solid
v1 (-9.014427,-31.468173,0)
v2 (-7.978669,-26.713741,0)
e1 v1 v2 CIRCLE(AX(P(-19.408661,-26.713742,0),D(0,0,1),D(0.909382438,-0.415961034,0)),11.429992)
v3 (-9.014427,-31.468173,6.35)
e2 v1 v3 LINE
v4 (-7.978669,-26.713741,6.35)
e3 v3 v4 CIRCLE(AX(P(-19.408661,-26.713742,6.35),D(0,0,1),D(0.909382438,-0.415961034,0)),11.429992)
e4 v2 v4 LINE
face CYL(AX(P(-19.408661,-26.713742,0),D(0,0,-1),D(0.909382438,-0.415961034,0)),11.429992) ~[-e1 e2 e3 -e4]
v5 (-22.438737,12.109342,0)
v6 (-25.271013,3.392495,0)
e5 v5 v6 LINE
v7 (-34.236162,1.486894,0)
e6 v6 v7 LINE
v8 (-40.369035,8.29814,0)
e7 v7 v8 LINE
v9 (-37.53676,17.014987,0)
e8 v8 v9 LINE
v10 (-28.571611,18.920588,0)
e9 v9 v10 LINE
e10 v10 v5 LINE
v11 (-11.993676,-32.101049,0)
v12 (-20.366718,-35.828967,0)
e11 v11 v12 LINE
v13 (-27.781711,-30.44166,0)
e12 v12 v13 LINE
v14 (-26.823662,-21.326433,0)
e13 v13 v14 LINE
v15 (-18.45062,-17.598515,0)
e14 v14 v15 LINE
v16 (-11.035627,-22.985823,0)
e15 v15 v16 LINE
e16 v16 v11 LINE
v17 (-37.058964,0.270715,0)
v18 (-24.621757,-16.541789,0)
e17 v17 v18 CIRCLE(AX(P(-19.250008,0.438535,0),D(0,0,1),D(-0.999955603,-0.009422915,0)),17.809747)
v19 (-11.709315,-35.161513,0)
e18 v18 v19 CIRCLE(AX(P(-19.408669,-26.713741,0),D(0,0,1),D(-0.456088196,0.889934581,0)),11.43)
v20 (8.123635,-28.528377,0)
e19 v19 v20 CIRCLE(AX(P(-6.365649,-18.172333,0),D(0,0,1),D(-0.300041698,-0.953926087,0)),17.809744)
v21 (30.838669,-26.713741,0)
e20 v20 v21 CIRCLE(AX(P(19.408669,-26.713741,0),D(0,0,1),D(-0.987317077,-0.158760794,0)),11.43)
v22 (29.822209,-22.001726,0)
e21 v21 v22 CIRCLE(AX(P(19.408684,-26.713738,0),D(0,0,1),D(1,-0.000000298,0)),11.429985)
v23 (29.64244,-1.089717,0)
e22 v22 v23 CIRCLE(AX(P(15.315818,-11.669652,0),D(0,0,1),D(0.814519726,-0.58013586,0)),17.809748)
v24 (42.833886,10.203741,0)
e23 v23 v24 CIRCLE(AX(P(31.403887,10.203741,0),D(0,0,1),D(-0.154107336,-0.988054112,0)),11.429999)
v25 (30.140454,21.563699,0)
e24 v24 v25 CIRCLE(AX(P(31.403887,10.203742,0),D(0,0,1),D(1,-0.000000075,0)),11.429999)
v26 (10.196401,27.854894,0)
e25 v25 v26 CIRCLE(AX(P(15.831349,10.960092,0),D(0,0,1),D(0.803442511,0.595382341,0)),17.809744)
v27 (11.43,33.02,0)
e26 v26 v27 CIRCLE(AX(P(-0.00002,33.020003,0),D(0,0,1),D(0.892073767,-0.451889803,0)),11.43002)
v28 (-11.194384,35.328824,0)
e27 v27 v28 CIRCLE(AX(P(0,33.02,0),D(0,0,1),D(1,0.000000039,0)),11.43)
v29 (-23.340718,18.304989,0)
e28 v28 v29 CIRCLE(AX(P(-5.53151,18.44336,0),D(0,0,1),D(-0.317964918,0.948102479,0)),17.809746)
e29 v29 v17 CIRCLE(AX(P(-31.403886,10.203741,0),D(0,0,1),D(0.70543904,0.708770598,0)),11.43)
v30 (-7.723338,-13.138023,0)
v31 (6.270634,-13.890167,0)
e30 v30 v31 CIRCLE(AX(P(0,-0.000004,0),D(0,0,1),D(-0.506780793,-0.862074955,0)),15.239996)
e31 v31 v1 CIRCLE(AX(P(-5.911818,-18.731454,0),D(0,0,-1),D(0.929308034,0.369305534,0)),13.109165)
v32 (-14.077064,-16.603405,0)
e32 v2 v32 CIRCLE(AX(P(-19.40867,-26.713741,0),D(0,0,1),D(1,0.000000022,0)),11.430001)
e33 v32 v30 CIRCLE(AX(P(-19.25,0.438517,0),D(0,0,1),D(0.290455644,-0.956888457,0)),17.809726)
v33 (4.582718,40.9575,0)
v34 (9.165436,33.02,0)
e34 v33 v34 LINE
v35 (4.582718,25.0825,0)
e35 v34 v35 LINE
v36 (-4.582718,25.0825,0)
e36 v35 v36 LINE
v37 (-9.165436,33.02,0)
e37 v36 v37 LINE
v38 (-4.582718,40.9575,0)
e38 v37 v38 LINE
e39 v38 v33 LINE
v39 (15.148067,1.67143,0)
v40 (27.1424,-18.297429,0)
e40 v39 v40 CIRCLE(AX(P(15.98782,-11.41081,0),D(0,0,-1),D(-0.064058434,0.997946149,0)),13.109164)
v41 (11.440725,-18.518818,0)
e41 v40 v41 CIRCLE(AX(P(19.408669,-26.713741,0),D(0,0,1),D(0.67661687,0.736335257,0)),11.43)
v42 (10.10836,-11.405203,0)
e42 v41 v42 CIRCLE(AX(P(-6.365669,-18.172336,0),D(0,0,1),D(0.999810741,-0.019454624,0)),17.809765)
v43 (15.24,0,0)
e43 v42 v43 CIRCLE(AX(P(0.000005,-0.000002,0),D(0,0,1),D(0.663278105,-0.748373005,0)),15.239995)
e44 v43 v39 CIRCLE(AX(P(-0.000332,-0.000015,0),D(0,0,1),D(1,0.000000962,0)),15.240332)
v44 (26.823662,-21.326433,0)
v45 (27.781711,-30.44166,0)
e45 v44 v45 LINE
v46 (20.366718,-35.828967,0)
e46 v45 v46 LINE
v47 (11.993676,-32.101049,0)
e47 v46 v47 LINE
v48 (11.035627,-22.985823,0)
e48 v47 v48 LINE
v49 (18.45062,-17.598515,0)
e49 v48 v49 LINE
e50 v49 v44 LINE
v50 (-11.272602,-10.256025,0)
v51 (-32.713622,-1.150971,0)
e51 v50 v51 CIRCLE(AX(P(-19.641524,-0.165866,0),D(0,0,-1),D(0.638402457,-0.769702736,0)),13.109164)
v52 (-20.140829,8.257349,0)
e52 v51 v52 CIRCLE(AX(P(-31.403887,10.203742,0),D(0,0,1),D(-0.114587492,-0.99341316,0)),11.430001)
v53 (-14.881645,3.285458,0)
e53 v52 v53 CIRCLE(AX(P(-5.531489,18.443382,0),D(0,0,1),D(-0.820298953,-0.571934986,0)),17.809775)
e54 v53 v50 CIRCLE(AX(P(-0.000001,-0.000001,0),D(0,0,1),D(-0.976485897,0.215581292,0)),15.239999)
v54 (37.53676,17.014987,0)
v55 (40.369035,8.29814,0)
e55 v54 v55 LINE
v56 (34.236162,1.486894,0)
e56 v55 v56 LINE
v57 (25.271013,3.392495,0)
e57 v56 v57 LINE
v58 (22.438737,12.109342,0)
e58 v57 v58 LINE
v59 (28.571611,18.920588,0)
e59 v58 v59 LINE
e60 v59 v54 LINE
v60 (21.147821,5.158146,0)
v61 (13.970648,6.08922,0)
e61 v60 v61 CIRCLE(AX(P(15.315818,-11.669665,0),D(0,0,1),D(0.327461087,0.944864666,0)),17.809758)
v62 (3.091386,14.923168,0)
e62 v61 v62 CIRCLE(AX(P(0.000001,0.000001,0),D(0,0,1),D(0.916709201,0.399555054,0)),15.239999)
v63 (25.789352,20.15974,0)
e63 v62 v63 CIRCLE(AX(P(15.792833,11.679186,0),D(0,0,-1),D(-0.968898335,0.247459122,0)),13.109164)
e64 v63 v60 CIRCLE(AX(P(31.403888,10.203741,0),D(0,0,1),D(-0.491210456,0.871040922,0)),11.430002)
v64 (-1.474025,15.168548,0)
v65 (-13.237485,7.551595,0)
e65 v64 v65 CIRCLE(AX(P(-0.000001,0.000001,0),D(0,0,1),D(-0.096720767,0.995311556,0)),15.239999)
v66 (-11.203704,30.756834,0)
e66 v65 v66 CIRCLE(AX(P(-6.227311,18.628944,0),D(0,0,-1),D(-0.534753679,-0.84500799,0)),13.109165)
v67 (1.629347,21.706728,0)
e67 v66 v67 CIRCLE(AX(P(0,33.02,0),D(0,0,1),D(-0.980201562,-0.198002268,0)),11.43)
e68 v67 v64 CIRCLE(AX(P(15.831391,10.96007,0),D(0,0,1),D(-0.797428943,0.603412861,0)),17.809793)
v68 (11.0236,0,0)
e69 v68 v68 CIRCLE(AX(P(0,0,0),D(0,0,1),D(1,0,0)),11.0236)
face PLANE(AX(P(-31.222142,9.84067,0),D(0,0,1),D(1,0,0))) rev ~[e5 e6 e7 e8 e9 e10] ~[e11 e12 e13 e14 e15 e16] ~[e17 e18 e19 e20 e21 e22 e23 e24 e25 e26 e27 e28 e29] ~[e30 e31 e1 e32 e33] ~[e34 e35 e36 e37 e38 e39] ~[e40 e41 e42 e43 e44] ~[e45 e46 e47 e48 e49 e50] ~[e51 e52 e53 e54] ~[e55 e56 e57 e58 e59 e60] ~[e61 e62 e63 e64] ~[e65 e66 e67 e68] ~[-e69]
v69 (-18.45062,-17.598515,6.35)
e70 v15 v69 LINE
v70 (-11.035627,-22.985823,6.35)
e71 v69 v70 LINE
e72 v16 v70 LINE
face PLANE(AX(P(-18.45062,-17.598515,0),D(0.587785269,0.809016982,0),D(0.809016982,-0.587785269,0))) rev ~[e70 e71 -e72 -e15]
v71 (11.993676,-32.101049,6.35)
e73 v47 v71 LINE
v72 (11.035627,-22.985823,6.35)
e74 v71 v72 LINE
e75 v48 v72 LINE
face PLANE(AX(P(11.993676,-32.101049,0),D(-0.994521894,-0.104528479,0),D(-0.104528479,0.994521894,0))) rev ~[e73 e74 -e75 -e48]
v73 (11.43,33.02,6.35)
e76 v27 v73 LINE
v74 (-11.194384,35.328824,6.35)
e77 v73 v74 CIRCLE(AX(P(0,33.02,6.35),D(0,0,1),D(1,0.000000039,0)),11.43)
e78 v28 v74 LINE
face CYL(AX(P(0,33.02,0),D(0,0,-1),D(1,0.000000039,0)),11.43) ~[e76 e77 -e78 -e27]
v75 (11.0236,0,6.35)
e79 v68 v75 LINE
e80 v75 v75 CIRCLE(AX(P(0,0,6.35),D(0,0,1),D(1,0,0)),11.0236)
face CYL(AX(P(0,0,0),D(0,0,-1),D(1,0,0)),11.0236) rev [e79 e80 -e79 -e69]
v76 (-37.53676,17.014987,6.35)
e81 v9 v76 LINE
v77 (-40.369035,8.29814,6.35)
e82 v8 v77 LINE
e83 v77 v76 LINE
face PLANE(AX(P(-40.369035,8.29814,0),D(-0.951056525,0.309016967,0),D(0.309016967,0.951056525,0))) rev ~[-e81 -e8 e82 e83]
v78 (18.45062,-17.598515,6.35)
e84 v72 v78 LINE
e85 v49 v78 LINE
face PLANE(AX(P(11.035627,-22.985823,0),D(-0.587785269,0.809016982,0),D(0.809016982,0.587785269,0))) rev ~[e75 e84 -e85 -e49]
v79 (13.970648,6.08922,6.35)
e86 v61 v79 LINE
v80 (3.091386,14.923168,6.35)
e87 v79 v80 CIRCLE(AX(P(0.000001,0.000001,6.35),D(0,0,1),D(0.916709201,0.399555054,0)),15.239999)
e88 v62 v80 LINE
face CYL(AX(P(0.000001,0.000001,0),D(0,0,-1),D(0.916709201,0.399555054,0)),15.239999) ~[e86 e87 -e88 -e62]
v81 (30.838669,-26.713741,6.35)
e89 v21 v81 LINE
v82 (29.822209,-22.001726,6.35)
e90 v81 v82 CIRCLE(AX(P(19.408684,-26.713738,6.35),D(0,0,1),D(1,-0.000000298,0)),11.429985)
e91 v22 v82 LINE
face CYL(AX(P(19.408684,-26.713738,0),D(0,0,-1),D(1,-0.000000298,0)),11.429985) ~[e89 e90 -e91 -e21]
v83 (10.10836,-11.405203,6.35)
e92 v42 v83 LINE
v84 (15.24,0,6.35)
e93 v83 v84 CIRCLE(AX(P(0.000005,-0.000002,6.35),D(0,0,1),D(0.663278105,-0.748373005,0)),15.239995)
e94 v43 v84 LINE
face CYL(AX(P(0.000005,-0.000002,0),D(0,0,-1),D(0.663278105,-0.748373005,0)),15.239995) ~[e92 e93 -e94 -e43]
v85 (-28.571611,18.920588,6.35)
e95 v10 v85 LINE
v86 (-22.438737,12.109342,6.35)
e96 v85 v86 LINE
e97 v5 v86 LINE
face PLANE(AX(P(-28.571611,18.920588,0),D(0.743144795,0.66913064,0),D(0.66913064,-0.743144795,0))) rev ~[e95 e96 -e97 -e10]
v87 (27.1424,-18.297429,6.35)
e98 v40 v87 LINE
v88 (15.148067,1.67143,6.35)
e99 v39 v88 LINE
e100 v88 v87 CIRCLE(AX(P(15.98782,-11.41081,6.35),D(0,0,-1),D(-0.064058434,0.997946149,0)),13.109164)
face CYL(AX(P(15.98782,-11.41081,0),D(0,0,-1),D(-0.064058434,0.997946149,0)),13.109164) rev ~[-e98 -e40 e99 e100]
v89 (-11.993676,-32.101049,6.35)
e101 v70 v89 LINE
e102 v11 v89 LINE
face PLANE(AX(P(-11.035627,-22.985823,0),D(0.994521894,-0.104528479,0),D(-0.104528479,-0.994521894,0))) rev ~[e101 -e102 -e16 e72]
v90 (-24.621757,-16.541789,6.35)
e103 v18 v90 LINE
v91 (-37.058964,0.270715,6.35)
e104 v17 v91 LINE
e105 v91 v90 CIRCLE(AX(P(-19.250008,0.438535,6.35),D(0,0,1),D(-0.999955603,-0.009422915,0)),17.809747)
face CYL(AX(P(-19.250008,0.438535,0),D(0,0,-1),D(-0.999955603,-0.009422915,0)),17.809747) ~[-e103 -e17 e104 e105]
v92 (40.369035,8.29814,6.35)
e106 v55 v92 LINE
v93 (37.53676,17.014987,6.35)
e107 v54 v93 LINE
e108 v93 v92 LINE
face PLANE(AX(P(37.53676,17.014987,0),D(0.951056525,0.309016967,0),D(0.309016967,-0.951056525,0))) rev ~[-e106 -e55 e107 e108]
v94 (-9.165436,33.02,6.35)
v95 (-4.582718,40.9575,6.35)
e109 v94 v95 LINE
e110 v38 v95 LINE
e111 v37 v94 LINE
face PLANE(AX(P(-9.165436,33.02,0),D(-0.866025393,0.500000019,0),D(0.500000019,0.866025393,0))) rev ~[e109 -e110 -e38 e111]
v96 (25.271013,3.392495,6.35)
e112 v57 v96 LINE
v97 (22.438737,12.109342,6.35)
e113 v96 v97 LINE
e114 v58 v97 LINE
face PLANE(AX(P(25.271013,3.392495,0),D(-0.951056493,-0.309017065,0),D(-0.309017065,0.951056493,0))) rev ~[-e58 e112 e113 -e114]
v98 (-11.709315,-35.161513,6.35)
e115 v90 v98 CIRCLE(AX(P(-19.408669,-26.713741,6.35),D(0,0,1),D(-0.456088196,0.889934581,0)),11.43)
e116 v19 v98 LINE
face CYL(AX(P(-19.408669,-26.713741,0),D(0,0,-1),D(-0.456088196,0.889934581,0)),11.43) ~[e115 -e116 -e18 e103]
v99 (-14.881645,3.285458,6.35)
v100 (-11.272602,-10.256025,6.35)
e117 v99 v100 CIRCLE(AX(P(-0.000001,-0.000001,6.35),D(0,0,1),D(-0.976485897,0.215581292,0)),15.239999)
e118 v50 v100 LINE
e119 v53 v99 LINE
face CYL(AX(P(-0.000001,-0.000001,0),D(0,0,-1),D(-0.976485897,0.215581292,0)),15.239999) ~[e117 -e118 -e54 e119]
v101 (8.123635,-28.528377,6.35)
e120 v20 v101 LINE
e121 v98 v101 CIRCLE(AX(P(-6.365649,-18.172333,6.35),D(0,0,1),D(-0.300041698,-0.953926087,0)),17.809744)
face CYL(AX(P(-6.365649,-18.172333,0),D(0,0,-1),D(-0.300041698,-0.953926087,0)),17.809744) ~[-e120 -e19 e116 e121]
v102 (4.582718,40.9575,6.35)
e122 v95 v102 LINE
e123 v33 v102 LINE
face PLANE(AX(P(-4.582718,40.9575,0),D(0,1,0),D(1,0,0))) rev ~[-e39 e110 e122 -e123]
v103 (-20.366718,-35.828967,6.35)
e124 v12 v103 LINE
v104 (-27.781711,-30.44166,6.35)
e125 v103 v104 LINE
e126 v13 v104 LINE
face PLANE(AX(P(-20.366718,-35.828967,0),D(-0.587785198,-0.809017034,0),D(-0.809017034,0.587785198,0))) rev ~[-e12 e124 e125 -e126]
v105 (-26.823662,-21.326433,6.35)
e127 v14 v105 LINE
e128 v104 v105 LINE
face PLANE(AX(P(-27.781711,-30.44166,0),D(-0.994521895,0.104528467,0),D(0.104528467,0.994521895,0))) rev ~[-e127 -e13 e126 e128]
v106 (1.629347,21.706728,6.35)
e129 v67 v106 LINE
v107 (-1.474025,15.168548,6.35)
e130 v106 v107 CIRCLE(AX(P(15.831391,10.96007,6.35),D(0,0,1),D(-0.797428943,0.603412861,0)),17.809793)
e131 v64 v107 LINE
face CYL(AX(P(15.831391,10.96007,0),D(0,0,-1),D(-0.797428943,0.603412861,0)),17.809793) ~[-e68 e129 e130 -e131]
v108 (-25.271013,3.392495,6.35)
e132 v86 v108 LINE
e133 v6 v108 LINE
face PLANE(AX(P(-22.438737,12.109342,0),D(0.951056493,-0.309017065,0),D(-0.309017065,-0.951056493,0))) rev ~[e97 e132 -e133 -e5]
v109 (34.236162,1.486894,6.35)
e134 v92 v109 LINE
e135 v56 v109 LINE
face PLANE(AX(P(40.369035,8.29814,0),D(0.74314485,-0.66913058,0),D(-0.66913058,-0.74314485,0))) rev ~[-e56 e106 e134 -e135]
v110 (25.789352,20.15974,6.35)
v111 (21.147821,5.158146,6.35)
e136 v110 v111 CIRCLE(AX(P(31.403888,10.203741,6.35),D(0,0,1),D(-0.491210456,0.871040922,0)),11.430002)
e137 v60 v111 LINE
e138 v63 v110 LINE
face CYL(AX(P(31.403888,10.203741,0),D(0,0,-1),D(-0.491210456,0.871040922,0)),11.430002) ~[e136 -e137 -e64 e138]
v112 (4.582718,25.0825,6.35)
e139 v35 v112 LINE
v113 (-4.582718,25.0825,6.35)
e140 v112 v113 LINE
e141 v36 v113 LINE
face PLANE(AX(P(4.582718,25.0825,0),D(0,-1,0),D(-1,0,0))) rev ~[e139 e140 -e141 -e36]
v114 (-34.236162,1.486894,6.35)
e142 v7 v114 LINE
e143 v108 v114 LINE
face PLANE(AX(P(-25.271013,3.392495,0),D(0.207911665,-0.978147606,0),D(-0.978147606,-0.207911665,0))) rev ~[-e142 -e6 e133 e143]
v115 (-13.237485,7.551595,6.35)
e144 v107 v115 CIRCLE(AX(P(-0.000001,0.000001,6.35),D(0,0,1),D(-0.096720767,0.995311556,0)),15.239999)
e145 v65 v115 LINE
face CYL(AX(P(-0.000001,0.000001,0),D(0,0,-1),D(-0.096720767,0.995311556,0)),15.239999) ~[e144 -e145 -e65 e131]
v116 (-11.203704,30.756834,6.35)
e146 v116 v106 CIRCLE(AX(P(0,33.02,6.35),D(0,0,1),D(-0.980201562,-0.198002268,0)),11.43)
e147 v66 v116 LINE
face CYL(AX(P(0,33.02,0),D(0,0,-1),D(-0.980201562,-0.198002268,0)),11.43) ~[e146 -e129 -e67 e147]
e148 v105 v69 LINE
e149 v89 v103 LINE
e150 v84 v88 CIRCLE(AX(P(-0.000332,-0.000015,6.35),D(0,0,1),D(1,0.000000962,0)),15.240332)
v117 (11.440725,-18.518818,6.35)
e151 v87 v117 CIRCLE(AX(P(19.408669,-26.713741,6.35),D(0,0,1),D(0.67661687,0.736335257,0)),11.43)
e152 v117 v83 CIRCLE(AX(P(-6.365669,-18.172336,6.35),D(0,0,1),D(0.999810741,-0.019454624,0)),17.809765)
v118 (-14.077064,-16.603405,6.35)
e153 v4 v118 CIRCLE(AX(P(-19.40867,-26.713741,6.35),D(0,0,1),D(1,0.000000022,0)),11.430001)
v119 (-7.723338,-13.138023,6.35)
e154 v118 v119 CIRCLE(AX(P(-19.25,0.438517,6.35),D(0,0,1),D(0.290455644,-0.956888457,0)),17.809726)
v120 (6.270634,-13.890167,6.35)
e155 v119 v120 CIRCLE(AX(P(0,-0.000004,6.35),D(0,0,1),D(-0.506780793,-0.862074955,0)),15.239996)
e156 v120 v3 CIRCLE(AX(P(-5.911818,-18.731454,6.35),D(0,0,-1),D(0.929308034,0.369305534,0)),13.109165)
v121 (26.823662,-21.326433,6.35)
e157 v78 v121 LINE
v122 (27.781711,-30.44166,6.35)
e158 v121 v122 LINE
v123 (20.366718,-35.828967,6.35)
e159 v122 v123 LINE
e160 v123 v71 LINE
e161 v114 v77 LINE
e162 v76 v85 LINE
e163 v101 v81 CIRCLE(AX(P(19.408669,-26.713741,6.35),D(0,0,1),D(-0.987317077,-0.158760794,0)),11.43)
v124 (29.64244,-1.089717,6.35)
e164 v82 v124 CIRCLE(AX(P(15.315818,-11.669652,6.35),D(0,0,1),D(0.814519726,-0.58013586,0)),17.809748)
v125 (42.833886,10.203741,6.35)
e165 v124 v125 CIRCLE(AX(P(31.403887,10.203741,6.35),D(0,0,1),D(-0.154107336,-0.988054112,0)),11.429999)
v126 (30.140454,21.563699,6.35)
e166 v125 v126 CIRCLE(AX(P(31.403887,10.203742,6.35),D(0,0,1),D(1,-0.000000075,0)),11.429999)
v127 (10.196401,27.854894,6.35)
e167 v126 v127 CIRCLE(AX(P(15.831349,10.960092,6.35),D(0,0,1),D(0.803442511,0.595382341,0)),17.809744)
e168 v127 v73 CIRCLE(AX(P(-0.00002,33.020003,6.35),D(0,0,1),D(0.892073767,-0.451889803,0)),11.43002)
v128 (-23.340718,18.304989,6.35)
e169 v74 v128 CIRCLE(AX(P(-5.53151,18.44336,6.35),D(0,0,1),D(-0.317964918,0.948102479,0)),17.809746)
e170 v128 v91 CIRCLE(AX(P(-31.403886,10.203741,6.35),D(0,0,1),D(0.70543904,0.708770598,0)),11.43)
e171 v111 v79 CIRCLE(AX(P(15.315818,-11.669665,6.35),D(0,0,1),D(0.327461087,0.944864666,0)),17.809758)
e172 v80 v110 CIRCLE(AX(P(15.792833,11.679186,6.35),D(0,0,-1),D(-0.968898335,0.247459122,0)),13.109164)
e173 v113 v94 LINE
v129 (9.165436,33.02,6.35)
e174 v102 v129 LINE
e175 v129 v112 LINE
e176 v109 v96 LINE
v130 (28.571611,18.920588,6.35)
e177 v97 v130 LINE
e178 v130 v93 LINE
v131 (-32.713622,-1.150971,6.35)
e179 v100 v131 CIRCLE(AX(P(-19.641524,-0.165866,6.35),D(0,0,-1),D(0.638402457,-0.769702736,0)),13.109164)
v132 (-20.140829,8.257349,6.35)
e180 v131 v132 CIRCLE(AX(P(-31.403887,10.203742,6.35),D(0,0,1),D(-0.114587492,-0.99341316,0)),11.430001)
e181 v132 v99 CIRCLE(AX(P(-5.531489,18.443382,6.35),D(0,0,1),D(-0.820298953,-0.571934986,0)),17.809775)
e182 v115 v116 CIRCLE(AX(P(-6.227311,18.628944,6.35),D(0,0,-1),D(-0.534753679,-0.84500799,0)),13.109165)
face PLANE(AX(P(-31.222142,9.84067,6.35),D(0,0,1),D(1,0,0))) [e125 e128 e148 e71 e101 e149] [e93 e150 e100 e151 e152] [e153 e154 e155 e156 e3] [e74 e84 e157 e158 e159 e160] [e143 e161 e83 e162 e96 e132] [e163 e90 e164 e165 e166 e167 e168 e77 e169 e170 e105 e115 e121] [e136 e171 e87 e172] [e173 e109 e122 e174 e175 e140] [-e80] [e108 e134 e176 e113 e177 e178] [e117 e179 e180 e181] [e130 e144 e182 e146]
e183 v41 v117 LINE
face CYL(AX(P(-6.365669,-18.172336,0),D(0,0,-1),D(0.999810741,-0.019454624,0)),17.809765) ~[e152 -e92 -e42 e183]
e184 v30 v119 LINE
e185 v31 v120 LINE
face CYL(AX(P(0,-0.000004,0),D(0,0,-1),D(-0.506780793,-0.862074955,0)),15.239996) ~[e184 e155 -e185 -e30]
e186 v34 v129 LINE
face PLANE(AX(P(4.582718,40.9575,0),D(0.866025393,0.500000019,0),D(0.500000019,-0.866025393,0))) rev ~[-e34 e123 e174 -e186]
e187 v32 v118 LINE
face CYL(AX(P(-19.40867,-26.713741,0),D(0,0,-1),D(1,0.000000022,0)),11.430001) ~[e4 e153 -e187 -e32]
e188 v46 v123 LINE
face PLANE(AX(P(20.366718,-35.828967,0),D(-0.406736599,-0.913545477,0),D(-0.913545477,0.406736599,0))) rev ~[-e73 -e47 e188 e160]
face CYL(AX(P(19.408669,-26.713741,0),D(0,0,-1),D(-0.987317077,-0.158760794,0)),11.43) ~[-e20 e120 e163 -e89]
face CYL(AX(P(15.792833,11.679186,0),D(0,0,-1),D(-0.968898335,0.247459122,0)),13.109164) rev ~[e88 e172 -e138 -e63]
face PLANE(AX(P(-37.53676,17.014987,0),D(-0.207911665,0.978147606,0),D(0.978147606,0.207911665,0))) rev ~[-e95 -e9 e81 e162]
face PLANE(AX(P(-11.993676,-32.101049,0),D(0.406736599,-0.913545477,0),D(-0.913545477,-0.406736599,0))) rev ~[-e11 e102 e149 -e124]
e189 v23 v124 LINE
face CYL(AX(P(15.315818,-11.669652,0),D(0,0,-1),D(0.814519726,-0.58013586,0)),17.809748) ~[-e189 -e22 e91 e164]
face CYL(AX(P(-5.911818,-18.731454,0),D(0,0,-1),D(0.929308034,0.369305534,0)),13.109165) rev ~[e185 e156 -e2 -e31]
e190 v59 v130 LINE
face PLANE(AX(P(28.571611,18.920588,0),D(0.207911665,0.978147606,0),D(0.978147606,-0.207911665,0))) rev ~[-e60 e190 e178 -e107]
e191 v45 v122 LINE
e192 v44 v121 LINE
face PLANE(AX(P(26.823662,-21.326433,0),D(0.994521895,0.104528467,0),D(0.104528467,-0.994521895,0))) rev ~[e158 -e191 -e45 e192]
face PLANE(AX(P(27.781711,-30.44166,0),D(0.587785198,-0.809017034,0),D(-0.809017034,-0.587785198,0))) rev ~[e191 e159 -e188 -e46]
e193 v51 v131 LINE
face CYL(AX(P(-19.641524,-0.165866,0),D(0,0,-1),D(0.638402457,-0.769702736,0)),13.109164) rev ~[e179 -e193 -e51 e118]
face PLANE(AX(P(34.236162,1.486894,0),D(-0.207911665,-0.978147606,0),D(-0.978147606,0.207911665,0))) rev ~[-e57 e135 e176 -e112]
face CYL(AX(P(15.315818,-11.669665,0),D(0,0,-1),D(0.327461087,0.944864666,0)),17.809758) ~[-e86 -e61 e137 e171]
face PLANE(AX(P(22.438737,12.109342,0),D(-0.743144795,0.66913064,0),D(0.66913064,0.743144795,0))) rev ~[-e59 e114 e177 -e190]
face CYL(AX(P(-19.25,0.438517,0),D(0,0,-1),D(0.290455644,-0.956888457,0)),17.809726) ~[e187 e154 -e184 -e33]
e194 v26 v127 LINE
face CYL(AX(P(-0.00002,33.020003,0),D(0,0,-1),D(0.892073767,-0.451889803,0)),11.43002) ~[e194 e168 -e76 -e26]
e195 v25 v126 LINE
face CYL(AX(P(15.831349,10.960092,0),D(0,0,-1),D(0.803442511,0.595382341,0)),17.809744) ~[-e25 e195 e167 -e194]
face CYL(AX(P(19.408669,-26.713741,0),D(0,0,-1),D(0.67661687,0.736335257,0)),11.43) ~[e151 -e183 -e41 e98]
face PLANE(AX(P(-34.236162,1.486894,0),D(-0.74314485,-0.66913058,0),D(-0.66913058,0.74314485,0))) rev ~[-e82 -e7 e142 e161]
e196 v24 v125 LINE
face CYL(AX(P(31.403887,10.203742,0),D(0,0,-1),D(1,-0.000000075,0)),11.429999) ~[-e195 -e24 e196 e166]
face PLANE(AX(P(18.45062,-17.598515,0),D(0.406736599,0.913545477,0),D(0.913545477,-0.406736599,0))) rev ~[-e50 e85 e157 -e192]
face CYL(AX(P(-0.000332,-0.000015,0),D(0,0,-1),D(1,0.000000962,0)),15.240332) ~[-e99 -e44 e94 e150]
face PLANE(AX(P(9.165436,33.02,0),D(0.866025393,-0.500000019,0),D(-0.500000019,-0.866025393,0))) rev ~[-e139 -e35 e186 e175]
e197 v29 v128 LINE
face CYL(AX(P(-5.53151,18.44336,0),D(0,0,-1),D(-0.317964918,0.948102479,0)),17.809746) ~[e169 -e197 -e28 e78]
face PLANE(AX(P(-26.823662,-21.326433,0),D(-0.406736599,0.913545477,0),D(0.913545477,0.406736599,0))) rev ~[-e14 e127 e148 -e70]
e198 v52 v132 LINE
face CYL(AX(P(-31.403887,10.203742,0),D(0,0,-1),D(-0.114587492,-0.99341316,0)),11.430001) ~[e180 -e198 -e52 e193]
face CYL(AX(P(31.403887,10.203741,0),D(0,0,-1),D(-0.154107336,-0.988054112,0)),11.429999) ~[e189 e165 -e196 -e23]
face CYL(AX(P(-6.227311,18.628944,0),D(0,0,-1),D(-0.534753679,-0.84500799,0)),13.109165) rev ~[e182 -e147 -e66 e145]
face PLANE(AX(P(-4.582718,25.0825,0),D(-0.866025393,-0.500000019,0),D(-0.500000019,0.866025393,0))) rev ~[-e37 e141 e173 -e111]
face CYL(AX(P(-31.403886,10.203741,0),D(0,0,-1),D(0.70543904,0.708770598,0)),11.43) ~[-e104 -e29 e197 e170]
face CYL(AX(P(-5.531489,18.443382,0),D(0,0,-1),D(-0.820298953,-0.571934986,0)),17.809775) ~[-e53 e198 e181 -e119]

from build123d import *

# Parameters (mm, degrees)
F0_R     = 11.0236
F1_DEPTH = 6.35


with BuildPart() as f1:
    # F0 (on Top) → F1 (new body)
    with BuildSketch(Plane.XY):
        with BuildLine():
            ThreePointArc((-37.058964, 0.270715), (-34.958103, -0.659612), (-32.713622, -1.150971))
            ThreePointArc((-32.713622, -1.150971), (-24.555801, 1.052314), (-20.140829, 8.257349))
            ThreePointArc((-20.140829, 8.257349), (-22.501454, 13.038914), (-23.340718, 18.304989))
            ThreePointArc((-23.340718, 18.304989), (-40.501055, 17.123743), (-37.058964, 0.270715))
        make_face()
        Polygon((-40.369035, 8.29814), (-37.53676, 17.014987), (-28.571611, 18.920588), (-22.438737, 12.109342), (-25.271013, 3.392495), (-34.236162, 1.486894), align=None, mode=Mode.SUBTRACT)
        with BuildLine():
            ThreePointArc((-14.881645, 3.285458), (-14.220455, 5.480534), (-13.237485, 7.551595))
            ThreePointArc((-13.237485, 7.551595), (-19.286416, 19.773486), (-11.203704, 30.756834))
            ThreePointArc((-11.203704, 30.756834), (-11.429976, 33.0433), (-11.194384, 35.328824))
            ThreePointArc((-11.194384, 35.328824), (-20.029351, 28.787423), (-23.340718, 18.304989))
            ThreePointArc((-23.340718, 18.304989), (-22.501454, 13.038914), (-20.140829, 8.257349))
            ThreePointArc((-20.140829, 8.257349), (-17.766451, 5.501443), (-14.881645, 3.285458))
        make_face()
        with BuildLine():
            ThreePointArc((-14.077064, -16.603405), (-10.722318, -15.19686), (-7.723338, -13.138023))
            ThreePointArc((-7.723338, -13.138023), (-9.60666, -11.830879), (-11.272602, -10.256025))
            ThreePointArc((-11.272602, -10.256025), (-24.765533, -12.232129), (-32.713622, -1.150971))
            ThreePointArc((-32.713622, -1.150971), (-34.958103, -0.659612), (-37.058964, 0.270715))
            ThreePointArc((-37.058964, 0.270715), (-33.567876, -10.153242), (-24.621757, -16.541789))
            ThreePointArc((-24.621757, -16.541789), (-19.341881, -15.283936), (-14.077064, -16.603405))
        make_face()
        with BuildLine():
            ThreePointArc((-11.709315, -35.161513), (-10.175319, -33.450963), (-9.014427, -31.468173))
            ThreePointArc((-9.014427, -31.468173), (-8.24061, -29.146714), (-7.978669, -26.713741))
            ThreePointArc((-7.978669, -26.713741), (-9.621301, -20.810155), (-14.077064, -16.603405))
            ThreePointArc((-14.077064, -16.603405), (-19.341881, -15.283936), (-24.621757, -16.541789))
            ThreePointArc((-24.621757, -16.541789), (-28.801161, -33.227265), (-11.709315, -35.161513))
        make_face()
        Polygon((-20.366718, -35.828967), (-27.781711, -30.44166), (-26.823662, -21.326433), (-18.45062, -17.598515), (-11.035627, -22.985823), (-11.993676, -32.101049), align=None, mode=Mode.SUBTRACT)
        with BuildLine():
            ThreePointArc((11.440725, -18.518818), (11.139694, -14.893619), (10.10836, -11.405203))
            ThreePointArc((10.10836, -11.405203), (8.283213, -12.792419), (6.270634, -13.890167))
            ThreePointArc((6.270634, -13.890167), (3.980475, -27.333357), (-9.014427, -31.468173))
            ThreePointArc((-9.014427, -31.468173), (-10.175319, -33.450963), (-11.709315, -35.161513))
            ThreePointArc((-11.709315, -35.161513), (-0.716737, -35.062472), (8.123635, -28.528377))
            ThreePointArc((8.123635, -28.528377), (8.558917, -23.118218), (11.440725, -18.518818))
        make_face()
        with BuildLine():
            ThreePointArc((29.822209, -22.001726), (28.669409, -20.01422), (27.1424, -18.297429))
            ThreePointArc((27.1424, -18.297429), (19.247526, -15.284877), (11.440725, -18.518818))
            ThreePointArc((11.440725, -18.518818), (8.558917, -23.118218), (8.123635, -28.528377))
            ThreePointArc((8.123635, -28.528377), (20.318877, -38.107442), (30.838669, -26.713741))
            ThreePointArc((30.838669, -26.713741), (30.581665, -24.30354), (29.822209, -22.001726))
        make_face()
        Polygon((27.781711, -30.44166), (20.366718, -35.828967), (11.993676, -32.101049), (11.035627, -22.985823), (18.45062, -17.598515), (26.823662, -21.326433), align=None, mode=Mode.SUBTRACT)
        with BuildLine():
            ThreePointArc((13.970648, 6.08922), (14.725967, 3.924729), (15.148067, 1.67143))
            ThreePointArc((15.148067, 1.67143), (27.225602, -4.660815), (27.1424, -18.297429))
            ThreePointArc((27.1424, -18.297429), (28.669409, -20.01422), (29.822209, -22.001726))
            ThreePointArc((29.822209, -22.001726), (33.124908, -11.516557), (29.64244, -1.089717))
            ThreePointArc((29.64244, -1.089717), (24.631583, 0.996092), (21.147821, 5.158146))
            ThreePointArc((21.147821, 5.158146), (17.607028, 5.992097), (13.970648, 6.08922))
        make_face()
        with BuildLine():
            ThreePointArc((25.789352, 20.15974), (20.484595, 13.582198), (21.147821, 5.158146))
            ThreePointArc((21.147821, 5.158146), (24.631583, 0.996092), (29.64244, -1.089717))
            ThreePointArc((29.64244, -1.089717), (38.83731, 1.521051), (42.833886, 10.203741))
            ThreePointArc((42.833886, 10.203741), (39.026349, 18.720957), (30.140454, 21.563699))
            ThreePointArc((30.140454, 21.563699), (27.893989, 21.081495), (25.789352, 20.15974))
        make_face()
        Polygon((37.53676, 17.014987), (40.369035, 8.29814), (34.236162, 1.486894), (25.271013, 3.392495), (22.438737, 12.109342), (28.571611, 18.920588), align=None, mode=Mode.SUBTRACT)
        with BuildLine():
            ThreePointArc((-1.474025, 15.168548), (0.817935, 15.218035), (3.091386, 14.923168))
            ThreePointArc((3.091386, 14.923168), (12.845872, 24.452815), (25.789352, 20.15974))
            ThreePointArc((25.789352, 20.15974), (27.893989, 21.081495), (30.140454, 21.563699))
            ThreePointArc((30.140454, 21.563699), (21.189057, 27.944848), (10.196401, 27.854894))
            ThreePointArc((10.196401, 27.854894), (6.664238, 23.733836), (1.629347, 21.706728))
            ThreePointArc((1.629347, 21.706728), (-0.257952, 18.596938), (-1.474025, 15.168548))
        make_face()
        with BuildLine():
            ThreePointArc((-11.203704, 30.756834), (-6.58735, 23.679137), (1.629347, 21.706728))
            ThreePointArc((1.629347, 21.706728), (6.664238, 23.733836), (10.196401, 27.854894))
            ThreePointArc((10.196401, 27.854894), (11.117323, 30.364812), (11.43, 33.02))
            ThreePointArc((11.43, 33.02), (1.160408, 44.390943), (-11.194384, 35.328824))
            ThreePointArc((-11.194384, 35.328824), (-11.429976, 33.0433), (-11.203704, 30.756834))
        make_face()
        Polygon((9.165436, 33.02), (4.582718, 25.0825), (-4.582718, 25.0825), (-9.165436, 33.02), (-4.582718, 40.9575), (4.582718, 40.9575), align=None, mode=Mode.SUBTRACT)
        with BuildLine():
            ThreePointArc((10.10836, -11.405203), (13.898004, -6.253247), (15.24, 0))
            ThreePointArc((15.24, 0), (15.216999, 0.836978), (15.148067, 1.67143))
            ThreePointArc((15.148067, 1.67143), (14.725967, 3.924729), (13.970648, 6.08922))
            ThreePointArc((13.970648, 6.08922), (9.60666, 11.830879), (3.091386, 14.923168))
            ThreePointArc((3.091386, 14.923168), (0.817935, 15.218035), (-1.474025, 15.168548))
            ThreePointArc((-1.474025, 15.168548), (-8.283213, 12.792419), (-13.237485, 7.551595))
            ThreePointArc((-13.237485, 7.551595), (-14.220455, 5.480534), (-14.881645, 3.285458))
            ThreePointArc((-14.881645, 3.285458), (-14.725967, -3.924729), (-11.272602, -10.256025))
            ThreePointArc((-11.272602, -10.256025), (-9.60666, -11.830879), (-7.723338, -13.138023))
            ThreePointArc((-7.723338, -13.138023), (-0.817935, -15.218035), (6.270634, -13.890167))
            ThreePointArc((6.270634, -13.890167), (8.283213, -12.792419), (10.10836, -11.405203))
        make_face()
        Circle(F0_R, mode=Mode.SUBTRACT)
    extrude(amount=F1_DEPTH)


solid = f1.part
